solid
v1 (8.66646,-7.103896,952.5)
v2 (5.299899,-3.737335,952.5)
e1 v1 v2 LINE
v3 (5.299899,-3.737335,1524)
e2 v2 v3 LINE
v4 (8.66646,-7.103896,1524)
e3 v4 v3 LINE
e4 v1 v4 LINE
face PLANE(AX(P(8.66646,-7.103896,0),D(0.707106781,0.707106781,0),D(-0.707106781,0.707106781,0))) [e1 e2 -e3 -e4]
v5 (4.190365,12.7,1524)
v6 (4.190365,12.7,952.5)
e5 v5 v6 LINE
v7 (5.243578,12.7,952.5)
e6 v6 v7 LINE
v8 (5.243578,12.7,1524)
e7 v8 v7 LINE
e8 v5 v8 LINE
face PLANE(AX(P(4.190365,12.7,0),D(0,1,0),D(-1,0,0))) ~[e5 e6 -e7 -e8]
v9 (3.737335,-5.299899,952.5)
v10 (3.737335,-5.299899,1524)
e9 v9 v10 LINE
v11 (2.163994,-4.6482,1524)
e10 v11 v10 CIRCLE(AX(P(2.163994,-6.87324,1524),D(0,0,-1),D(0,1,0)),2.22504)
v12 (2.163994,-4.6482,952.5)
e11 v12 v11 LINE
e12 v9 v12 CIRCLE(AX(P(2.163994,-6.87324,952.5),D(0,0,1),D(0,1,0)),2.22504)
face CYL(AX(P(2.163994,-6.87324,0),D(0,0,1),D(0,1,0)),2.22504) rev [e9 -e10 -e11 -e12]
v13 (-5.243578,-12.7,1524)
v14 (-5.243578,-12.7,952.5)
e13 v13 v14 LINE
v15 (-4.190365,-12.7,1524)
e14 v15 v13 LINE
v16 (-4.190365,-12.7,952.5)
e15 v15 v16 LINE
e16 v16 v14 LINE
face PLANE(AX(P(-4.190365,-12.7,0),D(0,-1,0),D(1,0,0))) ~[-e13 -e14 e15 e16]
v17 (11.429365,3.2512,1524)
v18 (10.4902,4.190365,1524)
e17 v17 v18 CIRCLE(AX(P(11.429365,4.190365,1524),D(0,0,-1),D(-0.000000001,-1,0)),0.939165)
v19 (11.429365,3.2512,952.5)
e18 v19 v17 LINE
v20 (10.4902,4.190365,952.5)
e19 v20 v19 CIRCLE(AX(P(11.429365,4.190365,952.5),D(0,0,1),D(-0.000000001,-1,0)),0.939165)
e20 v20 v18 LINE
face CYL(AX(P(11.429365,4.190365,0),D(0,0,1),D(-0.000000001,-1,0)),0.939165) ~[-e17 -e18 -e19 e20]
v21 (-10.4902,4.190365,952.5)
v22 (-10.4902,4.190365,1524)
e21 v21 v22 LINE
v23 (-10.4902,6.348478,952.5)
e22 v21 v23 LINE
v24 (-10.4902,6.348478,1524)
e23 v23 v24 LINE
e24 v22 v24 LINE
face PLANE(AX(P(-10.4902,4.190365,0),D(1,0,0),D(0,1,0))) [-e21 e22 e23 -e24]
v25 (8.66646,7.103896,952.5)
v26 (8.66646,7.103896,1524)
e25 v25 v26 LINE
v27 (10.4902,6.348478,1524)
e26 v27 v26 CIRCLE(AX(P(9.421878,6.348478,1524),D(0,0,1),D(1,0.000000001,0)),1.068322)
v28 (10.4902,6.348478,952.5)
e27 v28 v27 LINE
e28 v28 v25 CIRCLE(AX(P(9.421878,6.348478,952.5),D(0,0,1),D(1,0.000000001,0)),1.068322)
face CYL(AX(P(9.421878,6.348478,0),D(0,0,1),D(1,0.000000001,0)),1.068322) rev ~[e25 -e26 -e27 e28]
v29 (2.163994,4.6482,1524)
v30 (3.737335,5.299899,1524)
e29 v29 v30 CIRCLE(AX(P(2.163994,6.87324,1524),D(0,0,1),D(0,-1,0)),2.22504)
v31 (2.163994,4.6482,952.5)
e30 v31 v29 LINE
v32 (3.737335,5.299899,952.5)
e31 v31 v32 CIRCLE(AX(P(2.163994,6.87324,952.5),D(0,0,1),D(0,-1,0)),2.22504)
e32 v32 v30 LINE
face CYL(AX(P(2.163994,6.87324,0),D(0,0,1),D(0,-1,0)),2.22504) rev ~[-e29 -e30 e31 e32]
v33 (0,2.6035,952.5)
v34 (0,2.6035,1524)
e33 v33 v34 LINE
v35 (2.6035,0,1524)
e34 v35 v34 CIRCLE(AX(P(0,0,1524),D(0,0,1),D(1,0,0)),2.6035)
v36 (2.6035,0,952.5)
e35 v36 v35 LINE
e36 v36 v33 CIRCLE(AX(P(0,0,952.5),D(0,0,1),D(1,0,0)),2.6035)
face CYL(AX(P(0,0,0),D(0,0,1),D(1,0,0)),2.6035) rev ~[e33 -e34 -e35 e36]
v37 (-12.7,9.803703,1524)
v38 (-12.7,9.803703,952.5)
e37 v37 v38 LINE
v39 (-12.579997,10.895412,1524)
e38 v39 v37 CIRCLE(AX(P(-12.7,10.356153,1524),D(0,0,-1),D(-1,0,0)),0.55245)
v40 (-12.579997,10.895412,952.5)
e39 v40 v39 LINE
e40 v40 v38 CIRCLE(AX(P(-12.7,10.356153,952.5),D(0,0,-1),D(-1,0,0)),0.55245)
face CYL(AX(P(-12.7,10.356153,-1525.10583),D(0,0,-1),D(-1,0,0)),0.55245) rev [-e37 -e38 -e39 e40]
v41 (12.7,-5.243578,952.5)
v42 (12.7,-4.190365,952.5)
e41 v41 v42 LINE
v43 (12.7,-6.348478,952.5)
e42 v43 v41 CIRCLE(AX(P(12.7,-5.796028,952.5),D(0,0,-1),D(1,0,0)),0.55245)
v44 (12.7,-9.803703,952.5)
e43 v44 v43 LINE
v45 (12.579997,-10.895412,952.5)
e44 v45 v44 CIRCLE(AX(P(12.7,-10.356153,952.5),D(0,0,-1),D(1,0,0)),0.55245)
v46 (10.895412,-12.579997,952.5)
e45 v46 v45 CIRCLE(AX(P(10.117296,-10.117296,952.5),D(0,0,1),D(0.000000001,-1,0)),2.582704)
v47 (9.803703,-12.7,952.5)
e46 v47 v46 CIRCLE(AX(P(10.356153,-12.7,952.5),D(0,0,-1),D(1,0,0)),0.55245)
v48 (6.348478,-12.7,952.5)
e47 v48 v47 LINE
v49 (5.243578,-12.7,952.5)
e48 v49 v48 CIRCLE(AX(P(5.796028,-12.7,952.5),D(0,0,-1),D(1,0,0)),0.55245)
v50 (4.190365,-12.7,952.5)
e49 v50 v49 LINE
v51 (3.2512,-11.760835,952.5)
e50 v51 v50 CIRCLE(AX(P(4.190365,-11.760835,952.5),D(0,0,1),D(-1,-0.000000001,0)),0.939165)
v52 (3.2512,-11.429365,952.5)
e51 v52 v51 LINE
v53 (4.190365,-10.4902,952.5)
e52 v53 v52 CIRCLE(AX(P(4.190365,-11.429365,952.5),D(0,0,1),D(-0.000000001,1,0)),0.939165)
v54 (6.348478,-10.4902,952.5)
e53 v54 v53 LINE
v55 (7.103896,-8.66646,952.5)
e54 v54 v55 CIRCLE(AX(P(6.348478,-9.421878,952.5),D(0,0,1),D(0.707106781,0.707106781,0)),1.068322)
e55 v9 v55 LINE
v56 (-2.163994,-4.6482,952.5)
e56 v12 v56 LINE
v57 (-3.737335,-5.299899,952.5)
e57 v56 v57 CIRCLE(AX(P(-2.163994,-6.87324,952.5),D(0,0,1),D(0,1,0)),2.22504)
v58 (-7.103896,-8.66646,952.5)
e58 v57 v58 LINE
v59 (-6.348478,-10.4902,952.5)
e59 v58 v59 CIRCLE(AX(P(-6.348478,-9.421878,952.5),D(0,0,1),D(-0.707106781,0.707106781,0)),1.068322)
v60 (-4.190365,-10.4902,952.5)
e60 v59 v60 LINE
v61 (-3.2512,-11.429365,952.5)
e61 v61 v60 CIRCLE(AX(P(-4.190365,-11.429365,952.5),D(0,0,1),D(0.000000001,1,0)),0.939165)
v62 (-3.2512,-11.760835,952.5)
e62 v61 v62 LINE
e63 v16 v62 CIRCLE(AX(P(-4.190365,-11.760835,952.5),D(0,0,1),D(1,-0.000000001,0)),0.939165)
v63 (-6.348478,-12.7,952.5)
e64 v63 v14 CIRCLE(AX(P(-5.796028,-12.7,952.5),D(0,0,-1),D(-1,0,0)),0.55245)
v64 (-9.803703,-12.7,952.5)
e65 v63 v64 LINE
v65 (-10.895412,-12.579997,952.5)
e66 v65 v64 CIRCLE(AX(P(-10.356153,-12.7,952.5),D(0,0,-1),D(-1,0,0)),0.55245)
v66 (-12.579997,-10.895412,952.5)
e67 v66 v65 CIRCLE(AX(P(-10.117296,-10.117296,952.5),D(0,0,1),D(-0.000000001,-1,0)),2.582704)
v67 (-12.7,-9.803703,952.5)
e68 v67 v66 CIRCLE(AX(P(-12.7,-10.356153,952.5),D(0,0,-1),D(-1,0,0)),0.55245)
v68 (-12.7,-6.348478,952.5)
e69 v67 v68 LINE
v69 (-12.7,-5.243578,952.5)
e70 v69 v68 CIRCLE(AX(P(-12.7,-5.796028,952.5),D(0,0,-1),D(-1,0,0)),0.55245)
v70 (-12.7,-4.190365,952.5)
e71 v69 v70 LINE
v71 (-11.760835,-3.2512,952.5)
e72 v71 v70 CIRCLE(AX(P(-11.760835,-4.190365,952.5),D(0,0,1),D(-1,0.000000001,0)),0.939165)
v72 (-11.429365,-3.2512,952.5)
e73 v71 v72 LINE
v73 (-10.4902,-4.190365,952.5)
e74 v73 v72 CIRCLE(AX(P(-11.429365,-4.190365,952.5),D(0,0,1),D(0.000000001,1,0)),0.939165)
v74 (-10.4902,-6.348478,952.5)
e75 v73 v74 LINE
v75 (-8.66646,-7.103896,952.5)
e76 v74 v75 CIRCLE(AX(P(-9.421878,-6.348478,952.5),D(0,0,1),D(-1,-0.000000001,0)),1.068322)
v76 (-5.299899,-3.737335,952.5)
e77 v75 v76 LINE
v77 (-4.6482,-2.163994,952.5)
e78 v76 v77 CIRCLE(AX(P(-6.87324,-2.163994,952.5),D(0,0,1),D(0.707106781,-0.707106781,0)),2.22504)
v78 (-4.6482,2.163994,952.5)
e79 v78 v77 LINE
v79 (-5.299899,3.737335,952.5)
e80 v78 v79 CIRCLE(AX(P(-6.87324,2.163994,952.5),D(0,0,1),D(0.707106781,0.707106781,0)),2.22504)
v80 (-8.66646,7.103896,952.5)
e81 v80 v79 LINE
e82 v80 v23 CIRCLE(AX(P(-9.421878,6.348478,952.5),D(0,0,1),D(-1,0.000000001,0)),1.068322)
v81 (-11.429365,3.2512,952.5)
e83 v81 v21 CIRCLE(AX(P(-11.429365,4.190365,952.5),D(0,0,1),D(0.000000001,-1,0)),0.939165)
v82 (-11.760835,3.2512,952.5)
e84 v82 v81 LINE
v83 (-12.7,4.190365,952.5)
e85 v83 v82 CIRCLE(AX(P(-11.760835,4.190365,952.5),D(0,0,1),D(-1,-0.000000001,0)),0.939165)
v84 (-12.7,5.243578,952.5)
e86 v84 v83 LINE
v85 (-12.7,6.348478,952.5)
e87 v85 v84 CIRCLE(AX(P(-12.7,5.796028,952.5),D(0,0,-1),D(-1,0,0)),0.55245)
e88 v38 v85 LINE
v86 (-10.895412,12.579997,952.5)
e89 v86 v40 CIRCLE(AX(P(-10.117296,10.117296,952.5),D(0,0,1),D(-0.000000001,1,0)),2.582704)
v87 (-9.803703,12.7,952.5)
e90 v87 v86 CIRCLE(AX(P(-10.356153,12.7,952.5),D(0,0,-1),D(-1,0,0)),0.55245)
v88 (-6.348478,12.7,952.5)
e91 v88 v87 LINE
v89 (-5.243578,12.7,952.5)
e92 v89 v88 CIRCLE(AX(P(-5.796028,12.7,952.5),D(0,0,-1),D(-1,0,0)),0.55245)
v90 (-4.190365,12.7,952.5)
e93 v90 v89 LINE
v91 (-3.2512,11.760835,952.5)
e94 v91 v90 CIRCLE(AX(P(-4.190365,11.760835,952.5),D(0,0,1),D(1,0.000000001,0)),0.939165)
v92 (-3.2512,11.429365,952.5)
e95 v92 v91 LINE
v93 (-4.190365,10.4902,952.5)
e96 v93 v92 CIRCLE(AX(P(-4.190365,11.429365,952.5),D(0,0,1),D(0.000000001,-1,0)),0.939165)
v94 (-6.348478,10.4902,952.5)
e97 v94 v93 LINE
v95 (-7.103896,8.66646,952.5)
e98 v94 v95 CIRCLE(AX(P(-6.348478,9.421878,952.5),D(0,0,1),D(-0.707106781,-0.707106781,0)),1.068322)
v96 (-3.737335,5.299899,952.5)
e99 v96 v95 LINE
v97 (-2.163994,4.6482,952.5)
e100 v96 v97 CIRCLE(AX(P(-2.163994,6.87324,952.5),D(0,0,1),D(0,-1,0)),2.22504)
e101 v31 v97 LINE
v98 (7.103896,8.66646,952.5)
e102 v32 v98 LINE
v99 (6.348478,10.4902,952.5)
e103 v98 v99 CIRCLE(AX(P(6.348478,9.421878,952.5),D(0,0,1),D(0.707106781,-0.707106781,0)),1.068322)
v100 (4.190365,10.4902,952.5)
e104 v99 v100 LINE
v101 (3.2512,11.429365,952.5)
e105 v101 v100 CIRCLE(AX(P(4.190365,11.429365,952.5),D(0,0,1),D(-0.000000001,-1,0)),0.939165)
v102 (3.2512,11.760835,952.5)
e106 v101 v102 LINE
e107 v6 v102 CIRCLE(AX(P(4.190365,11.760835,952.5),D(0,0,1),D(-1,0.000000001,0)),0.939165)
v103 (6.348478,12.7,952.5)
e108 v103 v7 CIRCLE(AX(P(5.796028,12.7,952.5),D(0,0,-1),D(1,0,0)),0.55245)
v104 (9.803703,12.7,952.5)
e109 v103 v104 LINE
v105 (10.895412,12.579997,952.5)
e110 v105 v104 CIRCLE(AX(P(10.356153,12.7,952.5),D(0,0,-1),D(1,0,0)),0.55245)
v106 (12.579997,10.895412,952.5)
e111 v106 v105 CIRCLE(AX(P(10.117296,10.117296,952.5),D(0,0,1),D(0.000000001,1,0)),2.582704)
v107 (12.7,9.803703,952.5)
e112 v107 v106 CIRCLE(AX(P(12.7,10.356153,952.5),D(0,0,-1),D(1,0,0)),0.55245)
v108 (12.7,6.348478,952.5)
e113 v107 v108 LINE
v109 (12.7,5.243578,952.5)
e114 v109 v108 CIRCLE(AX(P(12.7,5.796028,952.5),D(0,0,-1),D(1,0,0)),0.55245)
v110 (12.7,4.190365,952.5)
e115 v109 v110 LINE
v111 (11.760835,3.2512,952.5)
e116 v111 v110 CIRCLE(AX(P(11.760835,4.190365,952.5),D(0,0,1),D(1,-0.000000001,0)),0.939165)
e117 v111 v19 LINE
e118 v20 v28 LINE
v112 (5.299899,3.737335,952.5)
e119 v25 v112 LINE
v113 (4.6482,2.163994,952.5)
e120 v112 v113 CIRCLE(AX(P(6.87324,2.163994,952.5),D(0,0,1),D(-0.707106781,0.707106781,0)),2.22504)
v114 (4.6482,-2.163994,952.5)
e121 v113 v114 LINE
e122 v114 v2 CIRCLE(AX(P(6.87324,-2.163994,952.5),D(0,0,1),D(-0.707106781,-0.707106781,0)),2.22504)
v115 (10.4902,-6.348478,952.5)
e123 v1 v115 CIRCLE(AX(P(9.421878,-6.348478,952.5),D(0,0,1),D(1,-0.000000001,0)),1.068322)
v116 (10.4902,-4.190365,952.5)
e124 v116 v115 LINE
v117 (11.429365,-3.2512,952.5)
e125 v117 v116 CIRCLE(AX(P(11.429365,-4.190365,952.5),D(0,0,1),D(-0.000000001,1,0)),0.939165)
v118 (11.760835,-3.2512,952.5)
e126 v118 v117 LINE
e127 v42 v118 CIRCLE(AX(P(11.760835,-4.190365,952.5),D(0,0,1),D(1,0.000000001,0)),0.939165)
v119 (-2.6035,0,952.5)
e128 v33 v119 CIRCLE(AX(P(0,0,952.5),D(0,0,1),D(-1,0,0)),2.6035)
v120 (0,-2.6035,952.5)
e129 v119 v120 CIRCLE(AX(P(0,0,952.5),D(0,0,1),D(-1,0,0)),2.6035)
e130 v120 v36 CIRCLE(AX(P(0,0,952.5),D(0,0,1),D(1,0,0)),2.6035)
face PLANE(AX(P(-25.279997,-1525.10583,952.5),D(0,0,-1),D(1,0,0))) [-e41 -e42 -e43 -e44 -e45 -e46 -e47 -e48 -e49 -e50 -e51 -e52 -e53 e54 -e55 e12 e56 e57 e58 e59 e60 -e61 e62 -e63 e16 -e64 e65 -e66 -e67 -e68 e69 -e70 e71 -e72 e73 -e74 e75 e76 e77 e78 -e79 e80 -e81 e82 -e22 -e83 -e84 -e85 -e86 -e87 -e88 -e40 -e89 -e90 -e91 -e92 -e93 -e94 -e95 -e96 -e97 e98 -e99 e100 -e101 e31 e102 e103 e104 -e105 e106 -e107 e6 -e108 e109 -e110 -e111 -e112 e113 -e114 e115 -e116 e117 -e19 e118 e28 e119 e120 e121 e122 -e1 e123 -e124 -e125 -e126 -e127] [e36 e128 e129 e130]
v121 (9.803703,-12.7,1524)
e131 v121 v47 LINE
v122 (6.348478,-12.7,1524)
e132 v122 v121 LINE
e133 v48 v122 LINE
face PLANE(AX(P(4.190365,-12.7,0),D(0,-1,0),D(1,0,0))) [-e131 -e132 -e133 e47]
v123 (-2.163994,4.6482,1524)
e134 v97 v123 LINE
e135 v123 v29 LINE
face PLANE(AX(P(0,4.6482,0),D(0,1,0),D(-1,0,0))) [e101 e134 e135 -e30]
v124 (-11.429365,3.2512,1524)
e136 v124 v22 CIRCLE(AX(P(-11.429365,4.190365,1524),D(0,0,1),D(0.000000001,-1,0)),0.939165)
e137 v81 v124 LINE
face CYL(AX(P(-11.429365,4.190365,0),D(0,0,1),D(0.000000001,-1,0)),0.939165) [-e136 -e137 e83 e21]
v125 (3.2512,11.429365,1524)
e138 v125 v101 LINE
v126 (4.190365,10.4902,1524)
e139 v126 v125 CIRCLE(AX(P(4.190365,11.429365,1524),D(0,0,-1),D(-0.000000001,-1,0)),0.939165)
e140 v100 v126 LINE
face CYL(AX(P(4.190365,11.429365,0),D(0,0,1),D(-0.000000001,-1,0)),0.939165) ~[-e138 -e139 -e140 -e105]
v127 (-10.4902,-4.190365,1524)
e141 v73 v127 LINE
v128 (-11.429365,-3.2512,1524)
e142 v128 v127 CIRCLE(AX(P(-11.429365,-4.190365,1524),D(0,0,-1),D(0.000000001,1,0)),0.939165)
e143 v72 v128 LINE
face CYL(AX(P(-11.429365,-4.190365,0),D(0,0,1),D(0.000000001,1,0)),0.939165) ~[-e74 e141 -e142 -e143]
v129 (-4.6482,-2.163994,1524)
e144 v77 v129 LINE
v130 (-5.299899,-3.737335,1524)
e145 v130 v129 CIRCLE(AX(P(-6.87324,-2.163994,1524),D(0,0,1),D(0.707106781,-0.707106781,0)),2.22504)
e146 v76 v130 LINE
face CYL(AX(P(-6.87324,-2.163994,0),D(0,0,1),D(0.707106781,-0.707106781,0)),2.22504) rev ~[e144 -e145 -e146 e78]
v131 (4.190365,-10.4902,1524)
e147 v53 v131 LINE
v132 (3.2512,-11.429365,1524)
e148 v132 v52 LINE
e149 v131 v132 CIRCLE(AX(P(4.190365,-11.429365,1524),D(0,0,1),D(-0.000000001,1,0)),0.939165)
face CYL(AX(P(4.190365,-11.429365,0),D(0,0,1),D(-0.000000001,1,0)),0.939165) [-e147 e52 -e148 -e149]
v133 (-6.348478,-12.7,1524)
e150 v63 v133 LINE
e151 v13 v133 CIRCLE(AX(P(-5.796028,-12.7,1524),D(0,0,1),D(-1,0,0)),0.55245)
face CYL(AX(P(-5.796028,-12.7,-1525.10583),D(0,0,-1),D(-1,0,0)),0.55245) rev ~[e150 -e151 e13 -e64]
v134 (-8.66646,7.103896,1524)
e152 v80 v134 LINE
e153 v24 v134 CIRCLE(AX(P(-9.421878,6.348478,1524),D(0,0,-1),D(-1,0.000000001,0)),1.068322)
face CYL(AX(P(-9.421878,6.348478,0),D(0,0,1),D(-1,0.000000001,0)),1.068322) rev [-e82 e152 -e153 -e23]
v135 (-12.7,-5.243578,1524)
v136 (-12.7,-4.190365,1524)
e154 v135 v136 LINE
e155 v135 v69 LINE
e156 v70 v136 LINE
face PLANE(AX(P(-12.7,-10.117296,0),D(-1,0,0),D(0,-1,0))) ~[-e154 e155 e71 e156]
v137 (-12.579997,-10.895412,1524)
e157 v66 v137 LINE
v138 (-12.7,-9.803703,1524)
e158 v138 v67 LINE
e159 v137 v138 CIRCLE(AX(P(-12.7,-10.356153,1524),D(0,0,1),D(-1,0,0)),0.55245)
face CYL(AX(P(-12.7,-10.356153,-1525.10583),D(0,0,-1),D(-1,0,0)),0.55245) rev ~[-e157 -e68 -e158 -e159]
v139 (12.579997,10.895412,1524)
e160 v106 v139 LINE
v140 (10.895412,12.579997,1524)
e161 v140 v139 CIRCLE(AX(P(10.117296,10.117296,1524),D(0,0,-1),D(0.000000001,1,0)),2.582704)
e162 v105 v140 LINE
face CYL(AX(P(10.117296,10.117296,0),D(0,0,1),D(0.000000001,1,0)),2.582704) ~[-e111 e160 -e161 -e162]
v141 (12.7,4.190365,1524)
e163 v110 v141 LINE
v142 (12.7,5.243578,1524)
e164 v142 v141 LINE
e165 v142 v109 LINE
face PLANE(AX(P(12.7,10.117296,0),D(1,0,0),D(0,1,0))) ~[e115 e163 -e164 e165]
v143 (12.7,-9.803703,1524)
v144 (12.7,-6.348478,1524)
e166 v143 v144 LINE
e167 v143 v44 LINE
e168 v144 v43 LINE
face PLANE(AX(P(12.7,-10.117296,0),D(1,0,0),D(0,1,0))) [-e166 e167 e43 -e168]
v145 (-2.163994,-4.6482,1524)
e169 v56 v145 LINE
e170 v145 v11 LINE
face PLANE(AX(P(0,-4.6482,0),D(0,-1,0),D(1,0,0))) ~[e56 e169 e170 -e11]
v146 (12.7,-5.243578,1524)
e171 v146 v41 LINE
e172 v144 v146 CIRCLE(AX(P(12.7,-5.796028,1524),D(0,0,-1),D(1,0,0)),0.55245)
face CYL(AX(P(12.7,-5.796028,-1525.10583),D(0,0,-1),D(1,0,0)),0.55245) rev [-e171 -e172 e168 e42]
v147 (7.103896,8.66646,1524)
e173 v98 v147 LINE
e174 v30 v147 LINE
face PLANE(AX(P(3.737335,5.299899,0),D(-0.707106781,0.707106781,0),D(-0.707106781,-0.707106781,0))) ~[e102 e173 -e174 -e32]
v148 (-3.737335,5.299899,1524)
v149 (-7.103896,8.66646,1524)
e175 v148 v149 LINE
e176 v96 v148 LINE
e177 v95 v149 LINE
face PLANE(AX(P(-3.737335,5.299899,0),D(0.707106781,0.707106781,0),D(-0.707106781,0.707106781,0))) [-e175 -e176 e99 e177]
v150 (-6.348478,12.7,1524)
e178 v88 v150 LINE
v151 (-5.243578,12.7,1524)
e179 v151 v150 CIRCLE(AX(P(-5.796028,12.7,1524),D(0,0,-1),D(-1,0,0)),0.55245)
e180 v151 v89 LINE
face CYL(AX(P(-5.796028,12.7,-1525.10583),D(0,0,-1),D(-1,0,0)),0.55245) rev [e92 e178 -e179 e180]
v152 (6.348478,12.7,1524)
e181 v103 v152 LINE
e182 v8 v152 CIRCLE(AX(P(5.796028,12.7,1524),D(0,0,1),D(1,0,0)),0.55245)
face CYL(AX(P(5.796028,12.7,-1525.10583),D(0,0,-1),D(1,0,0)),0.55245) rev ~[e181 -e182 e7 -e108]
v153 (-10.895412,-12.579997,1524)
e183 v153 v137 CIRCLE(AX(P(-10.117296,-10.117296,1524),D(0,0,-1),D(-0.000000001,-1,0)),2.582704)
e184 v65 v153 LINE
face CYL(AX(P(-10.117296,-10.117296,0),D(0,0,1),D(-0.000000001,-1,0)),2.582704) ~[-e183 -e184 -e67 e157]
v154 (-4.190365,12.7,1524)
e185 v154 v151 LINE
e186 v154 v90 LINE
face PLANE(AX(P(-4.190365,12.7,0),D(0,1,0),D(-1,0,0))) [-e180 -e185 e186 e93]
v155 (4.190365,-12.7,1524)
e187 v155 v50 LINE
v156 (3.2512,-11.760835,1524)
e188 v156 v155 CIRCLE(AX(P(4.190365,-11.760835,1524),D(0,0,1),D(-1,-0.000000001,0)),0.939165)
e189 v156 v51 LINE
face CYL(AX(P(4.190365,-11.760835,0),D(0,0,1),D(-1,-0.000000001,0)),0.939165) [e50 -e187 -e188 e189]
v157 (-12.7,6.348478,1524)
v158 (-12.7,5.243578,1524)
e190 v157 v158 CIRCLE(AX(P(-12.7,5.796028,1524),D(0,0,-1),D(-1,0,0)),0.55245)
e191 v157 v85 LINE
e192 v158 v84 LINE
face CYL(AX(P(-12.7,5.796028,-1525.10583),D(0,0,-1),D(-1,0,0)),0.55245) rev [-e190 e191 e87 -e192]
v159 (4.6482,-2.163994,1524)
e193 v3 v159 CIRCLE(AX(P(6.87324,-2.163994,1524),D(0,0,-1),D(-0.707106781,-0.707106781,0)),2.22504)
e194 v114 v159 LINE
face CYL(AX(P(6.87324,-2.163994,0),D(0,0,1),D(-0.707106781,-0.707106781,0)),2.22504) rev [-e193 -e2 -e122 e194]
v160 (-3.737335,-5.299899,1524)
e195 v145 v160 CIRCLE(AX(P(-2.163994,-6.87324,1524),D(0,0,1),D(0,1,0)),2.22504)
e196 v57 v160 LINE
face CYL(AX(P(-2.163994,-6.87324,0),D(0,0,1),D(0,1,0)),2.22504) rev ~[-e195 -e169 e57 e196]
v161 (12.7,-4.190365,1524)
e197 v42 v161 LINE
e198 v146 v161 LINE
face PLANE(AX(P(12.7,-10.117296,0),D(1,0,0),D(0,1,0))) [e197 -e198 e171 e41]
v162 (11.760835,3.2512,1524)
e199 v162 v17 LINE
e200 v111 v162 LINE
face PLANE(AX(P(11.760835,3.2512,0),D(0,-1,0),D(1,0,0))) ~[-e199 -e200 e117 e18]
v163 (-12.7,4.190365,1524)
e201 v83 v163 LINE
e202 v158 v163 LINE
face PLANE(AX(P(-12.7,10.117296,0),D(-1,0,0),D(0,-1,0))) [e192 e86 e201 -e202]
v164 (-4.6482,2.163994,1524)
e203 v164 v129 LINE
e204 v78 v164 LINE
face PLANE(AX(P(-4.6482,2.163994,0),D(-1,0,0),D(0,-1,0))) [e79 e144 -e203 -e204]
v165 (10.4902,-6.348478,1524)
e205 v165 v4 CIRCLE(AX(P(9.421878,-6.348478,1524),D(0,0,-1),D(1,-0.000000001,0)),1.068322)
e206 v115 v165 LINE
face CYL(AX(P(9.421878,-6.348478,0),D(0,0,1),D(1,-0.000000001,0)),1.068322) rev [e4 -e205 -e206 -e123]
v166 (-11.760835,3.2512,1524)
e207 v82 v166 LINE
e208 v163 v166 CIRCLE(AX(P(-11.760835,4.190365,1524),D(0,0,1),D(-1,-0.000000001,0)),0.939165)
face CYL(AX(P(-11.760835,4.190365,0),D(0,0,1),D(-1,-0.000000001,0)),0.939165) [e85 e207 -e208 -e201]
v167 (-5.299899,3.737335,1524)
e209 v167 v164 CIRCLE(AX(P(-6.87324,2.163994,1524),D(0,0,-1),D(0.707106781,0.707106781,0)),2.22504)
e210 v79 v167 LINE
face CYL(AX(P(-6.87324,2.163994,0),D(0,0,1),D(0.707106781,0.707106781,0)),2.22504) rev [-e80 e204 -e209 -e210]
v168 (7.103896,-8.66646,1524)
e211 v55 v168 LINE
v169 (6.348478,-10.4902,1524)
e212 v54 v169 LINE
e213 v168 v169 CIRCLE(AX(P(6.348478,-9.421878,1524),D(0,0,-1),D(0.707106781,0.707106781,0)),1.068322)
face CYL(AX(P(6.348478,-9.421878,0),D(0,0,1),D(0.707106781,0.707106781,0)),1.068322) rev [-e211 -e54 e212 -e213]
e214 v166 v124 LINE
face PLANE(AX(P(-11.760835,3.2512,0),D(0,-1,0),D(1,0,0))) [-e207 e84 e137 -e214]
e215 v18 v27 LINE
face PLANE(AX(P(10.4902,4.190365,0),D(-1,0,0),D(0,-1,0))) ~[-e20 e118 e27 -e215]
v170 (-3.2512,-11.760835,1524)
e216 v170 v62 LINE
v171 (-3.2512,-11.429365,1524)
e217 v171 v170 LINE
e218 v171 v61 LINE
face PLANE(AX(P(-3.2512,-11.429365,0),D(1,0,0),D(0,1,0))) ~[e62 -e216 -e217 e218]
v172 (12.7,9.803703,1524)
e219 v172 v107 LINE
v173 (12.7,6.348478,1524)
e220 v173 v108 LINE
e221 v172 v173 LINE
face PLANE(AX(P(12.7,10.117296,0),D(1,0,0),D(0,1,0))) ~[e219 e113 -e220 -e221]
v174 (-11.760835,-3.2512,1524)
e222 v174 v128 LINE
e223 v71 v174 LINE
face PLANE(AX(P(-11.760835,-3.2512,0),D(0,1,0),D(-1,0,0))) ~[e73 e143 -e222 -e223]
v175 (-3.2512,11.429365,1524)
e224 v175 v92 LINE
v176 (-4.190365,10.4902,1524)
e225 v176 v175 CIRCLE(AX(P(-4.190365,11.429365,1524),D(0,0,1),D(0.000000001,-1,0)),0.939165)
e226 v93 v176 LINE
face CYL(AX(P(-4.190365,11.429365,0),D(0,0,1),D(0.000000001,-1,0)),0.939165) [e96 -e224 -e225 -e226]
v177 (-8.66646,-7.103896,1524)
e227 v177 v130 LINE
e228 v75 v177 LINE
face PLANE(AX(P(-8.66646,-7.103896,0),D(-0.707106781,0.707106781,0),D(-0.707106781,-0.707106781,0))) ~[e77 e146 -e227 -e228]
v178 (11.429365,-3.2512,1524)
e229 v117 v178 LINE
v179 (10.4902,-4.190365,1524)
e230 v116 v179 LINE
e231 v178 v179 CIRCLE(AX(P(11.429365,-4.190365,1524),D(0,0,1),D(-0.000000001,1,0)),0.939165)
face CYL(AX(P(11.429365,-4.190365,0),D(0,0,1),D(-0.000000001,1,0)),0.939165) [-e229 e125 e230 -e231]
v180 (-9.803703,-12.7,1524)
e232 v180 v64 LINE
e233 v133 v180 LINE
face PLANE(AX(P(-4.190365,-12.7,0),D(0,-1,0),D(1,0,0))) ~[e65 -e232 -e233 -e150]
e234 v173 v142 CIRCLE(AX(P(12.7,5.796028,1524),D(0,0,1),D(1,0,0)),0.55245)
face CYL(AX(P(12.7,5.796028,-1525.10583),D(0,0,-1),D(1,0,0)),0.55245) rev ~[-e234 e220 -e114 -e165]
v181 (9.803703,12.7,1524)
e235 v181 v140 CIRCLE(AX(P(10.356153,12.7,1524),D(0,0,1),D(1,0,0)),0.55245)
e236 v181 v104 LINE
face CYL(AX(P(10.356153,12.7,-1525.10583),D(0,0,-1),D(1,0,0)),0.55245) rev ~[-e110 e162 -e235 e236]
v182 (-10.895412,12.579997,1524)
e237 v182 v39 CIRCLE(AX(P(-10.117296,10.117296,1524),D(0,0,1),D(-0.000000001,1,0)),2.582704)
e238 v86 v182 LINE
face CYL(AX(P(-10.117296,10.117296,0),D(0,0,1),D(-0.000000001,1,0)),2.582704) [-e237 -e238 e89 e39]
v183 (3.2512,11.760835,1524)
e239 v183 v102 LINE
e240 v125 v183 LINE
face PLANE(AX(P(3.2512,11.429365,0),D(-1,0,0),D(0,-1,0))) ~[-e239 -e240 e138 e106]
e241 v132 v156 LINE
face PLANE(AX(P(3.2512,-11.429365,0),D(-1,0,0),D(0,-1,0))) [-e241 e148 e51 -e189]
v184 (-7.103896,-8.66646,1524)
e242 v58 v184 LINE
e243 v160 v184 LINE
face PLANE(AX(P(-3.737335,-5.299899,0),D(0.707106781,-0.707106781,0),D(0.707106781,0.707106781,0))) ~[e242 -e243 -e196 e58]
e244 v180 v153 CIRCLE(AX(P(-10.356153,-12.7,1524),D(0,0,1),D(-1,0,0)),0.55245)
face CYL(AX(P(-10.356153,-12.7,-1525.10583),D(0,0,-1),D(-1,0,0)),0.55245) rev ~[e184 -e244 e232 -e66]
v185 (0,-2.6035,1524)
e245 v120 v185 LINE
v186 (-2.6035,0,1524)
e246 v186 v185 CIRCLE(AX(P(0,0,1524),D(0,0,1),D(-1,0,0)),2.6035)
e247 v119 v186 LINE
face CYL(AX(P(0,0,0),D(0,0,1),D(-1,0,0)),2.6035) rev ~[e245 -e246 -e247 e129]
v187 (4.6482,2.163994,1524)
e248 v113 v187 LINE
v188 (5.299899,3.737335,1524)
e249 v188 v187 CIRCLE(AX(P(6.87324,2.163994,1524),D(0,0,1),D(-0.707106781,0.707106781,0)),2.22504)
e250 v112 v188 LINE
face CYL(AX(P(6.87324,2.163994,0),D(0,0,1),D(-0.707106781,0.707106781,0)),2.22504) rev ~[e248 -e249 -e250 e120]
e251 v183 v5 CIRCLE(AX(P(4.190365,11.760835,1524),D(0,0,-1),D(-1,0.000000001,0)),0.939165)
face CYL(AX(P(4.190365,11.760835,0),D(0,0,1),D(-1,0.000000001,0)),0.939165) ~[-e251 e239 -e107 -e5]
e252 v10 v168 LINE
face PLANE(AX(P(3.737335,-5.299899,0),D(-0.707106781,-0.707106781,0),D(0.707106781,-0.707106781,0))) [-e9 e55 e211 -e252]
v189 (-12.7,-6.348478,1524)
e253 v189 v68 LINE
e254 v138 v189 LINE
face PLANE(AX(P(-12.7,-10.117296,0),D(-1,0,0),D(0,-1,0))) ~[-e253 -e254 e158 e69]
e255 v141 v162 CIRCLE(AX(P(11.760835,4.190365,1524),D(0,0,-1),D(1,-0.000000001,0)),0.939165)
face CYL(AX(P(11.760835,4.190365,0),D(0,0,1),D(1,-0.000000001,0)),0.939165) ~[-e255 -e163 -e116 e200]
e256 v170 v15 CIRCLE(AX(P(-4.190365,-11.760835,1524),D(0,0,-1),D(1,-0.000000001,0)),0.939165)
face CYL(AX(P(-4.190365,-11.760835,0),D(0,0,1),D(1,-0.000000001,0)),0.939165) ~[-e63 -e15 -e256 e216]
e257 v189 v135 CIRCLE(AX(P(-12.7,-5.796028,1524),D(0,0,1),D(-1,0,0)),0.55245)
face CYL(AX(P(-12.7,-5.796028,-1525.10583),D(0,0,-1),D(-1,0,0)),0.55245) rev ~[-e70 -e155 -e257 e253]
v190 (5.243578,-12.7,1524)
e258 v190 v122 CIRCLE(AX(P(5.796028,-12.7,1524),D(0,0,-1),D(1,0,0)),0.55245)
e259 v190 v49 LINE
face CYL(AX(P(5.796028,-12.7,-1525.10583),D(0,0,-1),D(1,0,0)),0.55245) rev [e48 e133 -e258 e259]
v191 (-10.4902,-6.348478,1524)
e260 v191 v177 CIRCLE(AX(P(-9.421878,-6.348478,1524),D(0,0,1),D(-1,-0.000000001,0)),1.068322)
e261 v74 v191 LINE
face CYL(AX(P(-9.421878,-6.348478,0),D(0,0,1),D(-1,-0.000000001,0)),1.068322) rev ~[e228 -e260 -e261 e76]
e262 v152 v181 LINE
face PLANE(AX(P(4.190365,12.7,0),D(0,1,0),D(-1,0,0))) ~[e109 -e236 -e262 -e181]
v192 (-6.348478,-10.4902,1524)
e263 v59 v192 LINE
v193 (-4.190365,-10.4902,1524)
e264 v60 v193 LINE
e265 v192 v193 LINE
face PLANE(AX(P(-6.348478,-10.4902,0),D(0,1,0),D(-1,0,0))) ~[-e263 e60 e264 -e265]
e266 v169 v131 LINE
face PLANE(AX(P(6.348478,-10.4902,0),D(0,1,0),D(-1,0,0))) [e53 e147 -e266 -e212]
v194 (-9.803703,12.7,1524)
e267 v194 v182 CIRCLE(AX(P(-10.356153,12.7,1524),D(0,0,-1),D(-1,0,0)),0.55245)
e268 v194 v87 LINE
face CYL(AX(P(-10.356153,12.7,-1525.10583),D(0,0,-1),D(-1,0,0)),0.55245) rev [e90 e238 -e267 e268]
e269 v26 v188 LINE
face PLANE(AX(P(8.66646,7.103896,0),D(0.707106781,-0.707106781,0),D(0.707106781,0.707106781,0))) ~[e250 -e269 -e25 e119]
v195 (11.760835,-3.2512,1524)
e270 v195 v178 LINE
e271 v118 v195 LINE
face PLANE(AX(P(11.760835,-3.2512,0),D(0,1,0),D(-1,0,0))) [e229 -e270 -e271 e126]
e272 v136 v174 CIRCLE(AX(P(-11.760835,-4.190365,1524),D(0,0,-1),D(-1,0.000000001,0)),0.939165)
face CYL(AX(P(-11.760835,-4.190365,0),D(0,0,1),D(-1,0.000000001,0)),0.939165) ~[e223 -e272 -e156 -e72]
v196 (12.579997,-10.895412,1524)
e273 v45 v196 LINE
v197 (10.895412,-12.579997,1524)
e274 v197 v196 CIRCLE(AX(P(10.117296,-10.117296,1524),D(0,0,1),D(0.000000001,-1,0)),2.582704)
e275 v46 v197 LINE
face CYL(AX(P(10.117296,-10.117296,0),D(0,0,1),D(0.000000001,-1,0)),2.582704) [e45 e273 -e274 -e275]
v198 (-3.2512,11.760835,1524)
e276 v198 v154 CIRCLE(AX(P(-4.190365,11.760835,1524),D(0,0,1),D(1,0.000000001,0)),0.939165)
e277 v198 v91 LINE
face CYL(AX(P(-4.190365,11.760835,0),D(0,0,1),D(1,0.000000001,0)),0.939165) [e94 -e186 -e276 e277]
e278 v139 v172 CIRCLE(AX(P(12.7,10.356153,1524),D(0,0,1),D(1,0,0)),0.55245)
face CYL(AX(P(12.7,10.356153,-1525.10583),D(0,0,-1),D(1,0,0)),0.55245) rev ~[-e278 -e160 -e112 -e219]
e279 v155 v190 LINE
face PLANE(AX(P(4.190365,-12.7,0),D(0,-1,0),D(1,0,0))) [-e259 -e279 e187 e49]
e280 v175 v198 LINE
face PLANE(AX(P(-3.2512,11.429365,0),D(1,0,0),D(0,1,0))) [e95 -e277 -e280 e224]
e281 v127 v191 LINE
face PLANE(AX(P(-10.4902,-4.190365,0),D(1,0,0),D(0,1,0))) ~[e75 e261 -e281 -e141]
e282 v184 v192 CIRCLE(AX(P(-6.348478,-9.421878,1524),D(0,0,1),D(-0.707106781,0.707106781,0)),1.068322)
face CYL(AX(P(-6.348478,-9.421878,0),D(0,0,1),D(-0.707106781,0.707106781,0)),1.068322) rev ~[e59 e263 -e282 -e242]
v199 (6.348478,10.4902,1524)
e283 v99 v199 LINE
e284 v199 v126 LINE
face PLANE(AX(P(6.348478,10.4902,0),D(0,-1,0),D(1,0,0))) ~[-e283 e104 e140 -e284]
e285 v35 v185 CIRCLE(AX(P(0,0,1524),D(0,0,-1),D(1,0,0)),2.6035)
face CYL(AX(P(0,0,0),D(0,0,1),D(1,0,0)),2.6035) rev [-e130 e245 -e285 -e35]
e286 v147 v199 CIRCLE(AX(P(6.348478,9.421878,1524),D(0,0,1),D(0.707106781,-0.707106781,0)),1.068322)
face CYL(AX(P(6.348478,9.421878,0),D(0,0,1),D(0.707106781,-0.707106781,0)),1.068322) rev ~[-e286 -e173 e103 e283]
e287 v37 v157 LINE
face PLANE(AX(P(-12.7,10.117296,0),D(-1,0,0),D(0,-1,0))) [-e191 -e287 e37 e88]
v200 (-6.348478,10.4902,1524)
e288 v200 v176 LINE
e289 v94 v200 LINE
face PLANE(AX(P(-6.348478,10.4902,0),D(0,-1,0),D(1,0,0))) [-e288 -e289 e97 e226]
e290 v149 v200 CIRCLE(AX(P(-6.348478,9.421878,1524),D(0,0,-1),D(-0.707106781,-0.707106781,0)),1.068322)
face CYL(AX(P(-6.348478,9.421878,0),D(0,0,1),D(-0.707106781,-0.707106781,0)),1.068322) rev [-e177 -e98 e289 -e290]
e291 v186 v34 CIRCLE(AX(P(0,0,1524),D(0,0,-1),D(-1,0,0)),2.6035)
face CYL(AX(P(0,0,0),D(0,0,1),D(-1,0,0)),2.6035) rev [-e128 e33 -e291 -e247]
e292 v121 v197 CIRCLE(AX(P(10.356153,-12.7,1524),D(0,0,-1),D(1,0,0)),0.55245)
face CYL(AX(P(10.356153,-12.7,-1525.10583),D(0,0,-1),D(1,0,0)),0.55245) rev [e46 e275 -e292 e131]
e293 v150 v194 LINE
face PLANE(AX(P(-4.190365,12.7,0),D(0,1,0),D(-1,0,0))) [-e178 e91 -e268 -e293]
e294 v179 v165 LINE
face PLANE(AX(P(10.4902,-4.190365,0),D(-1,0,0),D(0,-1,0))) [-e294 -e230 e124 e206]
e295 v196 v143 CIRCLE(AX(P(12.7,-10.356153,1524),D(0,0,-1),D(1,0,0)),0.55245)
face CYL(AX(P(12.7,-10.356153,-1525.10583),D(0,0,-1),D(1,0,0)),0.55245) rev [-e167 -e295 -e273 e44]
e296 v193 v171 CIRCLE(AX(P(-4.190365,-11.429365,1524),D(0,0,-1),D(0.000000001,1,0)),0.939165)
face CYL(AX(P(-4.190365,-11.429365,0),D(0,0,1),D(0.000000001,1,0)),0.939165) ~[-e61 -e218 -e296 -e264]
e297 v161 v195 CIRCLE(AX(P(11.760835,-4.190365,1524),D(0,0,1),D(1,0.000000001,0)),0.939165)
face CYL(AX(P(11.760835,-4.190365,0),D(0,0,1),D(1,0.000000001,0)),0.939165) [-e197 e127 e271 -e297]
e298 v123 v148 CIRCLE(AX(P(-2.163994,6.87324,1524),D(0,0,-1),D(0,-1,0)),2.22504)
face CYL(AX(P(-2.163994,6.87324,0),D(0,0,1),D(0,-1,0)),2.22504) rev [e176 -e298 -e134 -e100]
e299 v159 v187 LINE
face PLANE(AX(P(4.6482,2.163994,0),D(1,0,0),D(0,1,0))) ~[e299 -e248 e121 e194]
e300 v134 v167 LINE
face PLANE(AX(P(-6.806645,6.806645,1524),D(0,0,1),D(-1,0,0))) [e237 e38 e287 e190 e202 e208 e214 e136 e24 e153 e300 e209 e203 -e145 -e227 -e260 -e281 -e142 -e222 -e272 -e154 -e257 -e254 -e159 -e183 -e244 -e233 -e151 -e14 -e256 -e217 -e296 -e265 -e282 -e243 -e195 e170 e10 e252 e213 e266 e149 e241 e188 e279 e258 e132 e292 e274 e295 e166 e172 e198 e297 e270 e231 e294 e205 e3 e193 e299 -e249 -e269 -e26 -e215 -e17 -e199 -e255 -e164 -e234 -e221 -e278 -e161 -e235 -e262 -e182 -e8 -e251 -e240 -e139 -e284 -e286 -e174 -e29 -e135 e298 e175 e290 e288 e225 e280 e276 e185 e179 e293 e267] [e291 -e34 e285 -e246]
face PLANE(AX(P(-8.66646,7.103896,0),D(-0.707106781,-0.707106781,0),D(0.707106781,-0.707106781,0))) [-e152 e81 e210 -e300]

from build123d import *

# Parameters (mm, degrees)
BOSS_EXTRUDE1_DEPTH     = 1524
CUT_EXTRUDE1_DEPTH      = 1525.105829659
CUT_EXTRUDE1_DEPTH_BACK = 1525.105829659
SKETCH5_R               = 0.55245
CUT_EXTRUDE2_DEPTH      = 1525.105829659
CUT_EXTRUDE2_DEPTH_BACK = 1525.105829659
SKETCH8_W               = 50.559993734
SKETCH8_H               = 2489.2


with BuildPart() as part:
    # Sketch4 → Boss-Extrude1 (new, symmetric)
    with BuildSketch(Plane.XY):
        with BuildLine():
            Line((4.190365, -12.7), (10.11729625, -12.7))
            ThreePointArc((10.11729625, -12.7), (11.943543585, -11.943543585), (12.7, -10.11729625))
            Line((12.7, -10.11729625), (12.7, -4.190365))
            ThreePointArc((12.7, -4.190365), (12.42492494, -3.52627506), (11.760835, -3.2512))
            Line((11.760835, -3.2512), (11.429365, -3.2512))
            ThreePointArc((11.429365, -3.2512), (10.76527506, -3.52627506), (10.4902, -4.190365))
            Line((10.4902, -4.190365), (10.4902, -6.348478019))
            ThreePointArc((10.4902, -6.348478019), (9.830707141, -7.335478831), (8.666460301, -7.103895736))
            Line((8.666460301, -7.103895736), (5.299899128, -3.737334563))
            ThreePointArc((5.299899128, -3.737334563), (4.817571085, -3.015479634), (4.6482, -2.16399369))
            Line((4.6482, -2.16399369), (4.6482, 0))
            Line((4.6482, 0), (2.6035, 0))
            ThreePointArc((2.6035, 0), (1.840952505, -1.840952505), (0, -2.6035))
            Line((0, -2.6035), (0, -4.6482))
            Line((0, -4.6482), (2.16399369, -4.6482))
            ThreePointArc((2.16399369, -4.6482), (3.015479634, -4.817571085), (3.737334563, -5.299899128))
            Line((3.737334563, -5.299899128), (7.103895736, -8.666460301))
            ThreePointArc((7.103895736, -8.666460301), (7.335478831, -9.830707141), (6.348478019, -10.4902))
            Line((6.348478019, -10.4902), (4.190365, -10.4902))
            ThreePointArc((4.190365, -10.4902), (3.52627506, -10.76527506), (3.2512, -11.429365))
            Line((3.2512, -11.429365), (3.2512, -11.760835))
            ThreePointArc((3.2512, -11.760835), (3.52627506, -12.42492494), (4.190365, -12.7))
        make_face()
    extrude(amount=BOSS_EXTRUDE1_DEPTH, both=True)

    # Sketch5 → Cut-Extrude1 (cut, two sides: drawn at the far end of the back side and taken through both)
    with BuildSketch(Plane.XY.offset(-CUT_EXTRUDE1_DEPTH_BACK)):
        with Locations((10.356153152, -12.7)):
            Circle(SKETCH5_R)
        with Locations((5.796028019, -12.7)):
            Circle(SKETCH5_R)
        with Locations((12.7, -10.356153152)):
            Circle(SKETCH5_R)
        with Locations((12.7, -5.796028019)):
            Circle(SKETCH5_R)
    extrude(amount=CUT_EXTRUDE1_DEPTH + CUT_EXTRUDE1_DEPTH_BACK, mode=Mode.SUBTRACT)

    # Mirror1: part across plane


with BuildPart() as part_1:
    add(part.part)
    add(part.part.mirror(Plane(origin=(0, 0, 0), x_dir=(0, 0, 1), z_dir=(1, 0, 0))))

    # Mirror2: part across plane


with BuildPart() as part_2:
    add(part_1.part)
    add(part_1.part.mirror(Plane.ZX))

    # Sketch8 → Cut-Extrude2 (cut, two sides: drawn at the far end of the back side and taken through both)
    with BuildSketch(Plane(origin=(0, 0, 0), x_dir=(1, 0, 0), z_dir=(0, 1, 0)).offset(-CUT_EXTRUDE2_DEPTH_BACK)):
        with Locations((0, 292.1)):
            Rectangle(SKETCH8_W, SKETCH8_H)
    extrude(amount=CUT_EXTRUDE2_DEPTH + CUT_EXTRUDE2_DEPTH_BACK, mode=Mode.SUBTRACT)


solid = part_2.part
